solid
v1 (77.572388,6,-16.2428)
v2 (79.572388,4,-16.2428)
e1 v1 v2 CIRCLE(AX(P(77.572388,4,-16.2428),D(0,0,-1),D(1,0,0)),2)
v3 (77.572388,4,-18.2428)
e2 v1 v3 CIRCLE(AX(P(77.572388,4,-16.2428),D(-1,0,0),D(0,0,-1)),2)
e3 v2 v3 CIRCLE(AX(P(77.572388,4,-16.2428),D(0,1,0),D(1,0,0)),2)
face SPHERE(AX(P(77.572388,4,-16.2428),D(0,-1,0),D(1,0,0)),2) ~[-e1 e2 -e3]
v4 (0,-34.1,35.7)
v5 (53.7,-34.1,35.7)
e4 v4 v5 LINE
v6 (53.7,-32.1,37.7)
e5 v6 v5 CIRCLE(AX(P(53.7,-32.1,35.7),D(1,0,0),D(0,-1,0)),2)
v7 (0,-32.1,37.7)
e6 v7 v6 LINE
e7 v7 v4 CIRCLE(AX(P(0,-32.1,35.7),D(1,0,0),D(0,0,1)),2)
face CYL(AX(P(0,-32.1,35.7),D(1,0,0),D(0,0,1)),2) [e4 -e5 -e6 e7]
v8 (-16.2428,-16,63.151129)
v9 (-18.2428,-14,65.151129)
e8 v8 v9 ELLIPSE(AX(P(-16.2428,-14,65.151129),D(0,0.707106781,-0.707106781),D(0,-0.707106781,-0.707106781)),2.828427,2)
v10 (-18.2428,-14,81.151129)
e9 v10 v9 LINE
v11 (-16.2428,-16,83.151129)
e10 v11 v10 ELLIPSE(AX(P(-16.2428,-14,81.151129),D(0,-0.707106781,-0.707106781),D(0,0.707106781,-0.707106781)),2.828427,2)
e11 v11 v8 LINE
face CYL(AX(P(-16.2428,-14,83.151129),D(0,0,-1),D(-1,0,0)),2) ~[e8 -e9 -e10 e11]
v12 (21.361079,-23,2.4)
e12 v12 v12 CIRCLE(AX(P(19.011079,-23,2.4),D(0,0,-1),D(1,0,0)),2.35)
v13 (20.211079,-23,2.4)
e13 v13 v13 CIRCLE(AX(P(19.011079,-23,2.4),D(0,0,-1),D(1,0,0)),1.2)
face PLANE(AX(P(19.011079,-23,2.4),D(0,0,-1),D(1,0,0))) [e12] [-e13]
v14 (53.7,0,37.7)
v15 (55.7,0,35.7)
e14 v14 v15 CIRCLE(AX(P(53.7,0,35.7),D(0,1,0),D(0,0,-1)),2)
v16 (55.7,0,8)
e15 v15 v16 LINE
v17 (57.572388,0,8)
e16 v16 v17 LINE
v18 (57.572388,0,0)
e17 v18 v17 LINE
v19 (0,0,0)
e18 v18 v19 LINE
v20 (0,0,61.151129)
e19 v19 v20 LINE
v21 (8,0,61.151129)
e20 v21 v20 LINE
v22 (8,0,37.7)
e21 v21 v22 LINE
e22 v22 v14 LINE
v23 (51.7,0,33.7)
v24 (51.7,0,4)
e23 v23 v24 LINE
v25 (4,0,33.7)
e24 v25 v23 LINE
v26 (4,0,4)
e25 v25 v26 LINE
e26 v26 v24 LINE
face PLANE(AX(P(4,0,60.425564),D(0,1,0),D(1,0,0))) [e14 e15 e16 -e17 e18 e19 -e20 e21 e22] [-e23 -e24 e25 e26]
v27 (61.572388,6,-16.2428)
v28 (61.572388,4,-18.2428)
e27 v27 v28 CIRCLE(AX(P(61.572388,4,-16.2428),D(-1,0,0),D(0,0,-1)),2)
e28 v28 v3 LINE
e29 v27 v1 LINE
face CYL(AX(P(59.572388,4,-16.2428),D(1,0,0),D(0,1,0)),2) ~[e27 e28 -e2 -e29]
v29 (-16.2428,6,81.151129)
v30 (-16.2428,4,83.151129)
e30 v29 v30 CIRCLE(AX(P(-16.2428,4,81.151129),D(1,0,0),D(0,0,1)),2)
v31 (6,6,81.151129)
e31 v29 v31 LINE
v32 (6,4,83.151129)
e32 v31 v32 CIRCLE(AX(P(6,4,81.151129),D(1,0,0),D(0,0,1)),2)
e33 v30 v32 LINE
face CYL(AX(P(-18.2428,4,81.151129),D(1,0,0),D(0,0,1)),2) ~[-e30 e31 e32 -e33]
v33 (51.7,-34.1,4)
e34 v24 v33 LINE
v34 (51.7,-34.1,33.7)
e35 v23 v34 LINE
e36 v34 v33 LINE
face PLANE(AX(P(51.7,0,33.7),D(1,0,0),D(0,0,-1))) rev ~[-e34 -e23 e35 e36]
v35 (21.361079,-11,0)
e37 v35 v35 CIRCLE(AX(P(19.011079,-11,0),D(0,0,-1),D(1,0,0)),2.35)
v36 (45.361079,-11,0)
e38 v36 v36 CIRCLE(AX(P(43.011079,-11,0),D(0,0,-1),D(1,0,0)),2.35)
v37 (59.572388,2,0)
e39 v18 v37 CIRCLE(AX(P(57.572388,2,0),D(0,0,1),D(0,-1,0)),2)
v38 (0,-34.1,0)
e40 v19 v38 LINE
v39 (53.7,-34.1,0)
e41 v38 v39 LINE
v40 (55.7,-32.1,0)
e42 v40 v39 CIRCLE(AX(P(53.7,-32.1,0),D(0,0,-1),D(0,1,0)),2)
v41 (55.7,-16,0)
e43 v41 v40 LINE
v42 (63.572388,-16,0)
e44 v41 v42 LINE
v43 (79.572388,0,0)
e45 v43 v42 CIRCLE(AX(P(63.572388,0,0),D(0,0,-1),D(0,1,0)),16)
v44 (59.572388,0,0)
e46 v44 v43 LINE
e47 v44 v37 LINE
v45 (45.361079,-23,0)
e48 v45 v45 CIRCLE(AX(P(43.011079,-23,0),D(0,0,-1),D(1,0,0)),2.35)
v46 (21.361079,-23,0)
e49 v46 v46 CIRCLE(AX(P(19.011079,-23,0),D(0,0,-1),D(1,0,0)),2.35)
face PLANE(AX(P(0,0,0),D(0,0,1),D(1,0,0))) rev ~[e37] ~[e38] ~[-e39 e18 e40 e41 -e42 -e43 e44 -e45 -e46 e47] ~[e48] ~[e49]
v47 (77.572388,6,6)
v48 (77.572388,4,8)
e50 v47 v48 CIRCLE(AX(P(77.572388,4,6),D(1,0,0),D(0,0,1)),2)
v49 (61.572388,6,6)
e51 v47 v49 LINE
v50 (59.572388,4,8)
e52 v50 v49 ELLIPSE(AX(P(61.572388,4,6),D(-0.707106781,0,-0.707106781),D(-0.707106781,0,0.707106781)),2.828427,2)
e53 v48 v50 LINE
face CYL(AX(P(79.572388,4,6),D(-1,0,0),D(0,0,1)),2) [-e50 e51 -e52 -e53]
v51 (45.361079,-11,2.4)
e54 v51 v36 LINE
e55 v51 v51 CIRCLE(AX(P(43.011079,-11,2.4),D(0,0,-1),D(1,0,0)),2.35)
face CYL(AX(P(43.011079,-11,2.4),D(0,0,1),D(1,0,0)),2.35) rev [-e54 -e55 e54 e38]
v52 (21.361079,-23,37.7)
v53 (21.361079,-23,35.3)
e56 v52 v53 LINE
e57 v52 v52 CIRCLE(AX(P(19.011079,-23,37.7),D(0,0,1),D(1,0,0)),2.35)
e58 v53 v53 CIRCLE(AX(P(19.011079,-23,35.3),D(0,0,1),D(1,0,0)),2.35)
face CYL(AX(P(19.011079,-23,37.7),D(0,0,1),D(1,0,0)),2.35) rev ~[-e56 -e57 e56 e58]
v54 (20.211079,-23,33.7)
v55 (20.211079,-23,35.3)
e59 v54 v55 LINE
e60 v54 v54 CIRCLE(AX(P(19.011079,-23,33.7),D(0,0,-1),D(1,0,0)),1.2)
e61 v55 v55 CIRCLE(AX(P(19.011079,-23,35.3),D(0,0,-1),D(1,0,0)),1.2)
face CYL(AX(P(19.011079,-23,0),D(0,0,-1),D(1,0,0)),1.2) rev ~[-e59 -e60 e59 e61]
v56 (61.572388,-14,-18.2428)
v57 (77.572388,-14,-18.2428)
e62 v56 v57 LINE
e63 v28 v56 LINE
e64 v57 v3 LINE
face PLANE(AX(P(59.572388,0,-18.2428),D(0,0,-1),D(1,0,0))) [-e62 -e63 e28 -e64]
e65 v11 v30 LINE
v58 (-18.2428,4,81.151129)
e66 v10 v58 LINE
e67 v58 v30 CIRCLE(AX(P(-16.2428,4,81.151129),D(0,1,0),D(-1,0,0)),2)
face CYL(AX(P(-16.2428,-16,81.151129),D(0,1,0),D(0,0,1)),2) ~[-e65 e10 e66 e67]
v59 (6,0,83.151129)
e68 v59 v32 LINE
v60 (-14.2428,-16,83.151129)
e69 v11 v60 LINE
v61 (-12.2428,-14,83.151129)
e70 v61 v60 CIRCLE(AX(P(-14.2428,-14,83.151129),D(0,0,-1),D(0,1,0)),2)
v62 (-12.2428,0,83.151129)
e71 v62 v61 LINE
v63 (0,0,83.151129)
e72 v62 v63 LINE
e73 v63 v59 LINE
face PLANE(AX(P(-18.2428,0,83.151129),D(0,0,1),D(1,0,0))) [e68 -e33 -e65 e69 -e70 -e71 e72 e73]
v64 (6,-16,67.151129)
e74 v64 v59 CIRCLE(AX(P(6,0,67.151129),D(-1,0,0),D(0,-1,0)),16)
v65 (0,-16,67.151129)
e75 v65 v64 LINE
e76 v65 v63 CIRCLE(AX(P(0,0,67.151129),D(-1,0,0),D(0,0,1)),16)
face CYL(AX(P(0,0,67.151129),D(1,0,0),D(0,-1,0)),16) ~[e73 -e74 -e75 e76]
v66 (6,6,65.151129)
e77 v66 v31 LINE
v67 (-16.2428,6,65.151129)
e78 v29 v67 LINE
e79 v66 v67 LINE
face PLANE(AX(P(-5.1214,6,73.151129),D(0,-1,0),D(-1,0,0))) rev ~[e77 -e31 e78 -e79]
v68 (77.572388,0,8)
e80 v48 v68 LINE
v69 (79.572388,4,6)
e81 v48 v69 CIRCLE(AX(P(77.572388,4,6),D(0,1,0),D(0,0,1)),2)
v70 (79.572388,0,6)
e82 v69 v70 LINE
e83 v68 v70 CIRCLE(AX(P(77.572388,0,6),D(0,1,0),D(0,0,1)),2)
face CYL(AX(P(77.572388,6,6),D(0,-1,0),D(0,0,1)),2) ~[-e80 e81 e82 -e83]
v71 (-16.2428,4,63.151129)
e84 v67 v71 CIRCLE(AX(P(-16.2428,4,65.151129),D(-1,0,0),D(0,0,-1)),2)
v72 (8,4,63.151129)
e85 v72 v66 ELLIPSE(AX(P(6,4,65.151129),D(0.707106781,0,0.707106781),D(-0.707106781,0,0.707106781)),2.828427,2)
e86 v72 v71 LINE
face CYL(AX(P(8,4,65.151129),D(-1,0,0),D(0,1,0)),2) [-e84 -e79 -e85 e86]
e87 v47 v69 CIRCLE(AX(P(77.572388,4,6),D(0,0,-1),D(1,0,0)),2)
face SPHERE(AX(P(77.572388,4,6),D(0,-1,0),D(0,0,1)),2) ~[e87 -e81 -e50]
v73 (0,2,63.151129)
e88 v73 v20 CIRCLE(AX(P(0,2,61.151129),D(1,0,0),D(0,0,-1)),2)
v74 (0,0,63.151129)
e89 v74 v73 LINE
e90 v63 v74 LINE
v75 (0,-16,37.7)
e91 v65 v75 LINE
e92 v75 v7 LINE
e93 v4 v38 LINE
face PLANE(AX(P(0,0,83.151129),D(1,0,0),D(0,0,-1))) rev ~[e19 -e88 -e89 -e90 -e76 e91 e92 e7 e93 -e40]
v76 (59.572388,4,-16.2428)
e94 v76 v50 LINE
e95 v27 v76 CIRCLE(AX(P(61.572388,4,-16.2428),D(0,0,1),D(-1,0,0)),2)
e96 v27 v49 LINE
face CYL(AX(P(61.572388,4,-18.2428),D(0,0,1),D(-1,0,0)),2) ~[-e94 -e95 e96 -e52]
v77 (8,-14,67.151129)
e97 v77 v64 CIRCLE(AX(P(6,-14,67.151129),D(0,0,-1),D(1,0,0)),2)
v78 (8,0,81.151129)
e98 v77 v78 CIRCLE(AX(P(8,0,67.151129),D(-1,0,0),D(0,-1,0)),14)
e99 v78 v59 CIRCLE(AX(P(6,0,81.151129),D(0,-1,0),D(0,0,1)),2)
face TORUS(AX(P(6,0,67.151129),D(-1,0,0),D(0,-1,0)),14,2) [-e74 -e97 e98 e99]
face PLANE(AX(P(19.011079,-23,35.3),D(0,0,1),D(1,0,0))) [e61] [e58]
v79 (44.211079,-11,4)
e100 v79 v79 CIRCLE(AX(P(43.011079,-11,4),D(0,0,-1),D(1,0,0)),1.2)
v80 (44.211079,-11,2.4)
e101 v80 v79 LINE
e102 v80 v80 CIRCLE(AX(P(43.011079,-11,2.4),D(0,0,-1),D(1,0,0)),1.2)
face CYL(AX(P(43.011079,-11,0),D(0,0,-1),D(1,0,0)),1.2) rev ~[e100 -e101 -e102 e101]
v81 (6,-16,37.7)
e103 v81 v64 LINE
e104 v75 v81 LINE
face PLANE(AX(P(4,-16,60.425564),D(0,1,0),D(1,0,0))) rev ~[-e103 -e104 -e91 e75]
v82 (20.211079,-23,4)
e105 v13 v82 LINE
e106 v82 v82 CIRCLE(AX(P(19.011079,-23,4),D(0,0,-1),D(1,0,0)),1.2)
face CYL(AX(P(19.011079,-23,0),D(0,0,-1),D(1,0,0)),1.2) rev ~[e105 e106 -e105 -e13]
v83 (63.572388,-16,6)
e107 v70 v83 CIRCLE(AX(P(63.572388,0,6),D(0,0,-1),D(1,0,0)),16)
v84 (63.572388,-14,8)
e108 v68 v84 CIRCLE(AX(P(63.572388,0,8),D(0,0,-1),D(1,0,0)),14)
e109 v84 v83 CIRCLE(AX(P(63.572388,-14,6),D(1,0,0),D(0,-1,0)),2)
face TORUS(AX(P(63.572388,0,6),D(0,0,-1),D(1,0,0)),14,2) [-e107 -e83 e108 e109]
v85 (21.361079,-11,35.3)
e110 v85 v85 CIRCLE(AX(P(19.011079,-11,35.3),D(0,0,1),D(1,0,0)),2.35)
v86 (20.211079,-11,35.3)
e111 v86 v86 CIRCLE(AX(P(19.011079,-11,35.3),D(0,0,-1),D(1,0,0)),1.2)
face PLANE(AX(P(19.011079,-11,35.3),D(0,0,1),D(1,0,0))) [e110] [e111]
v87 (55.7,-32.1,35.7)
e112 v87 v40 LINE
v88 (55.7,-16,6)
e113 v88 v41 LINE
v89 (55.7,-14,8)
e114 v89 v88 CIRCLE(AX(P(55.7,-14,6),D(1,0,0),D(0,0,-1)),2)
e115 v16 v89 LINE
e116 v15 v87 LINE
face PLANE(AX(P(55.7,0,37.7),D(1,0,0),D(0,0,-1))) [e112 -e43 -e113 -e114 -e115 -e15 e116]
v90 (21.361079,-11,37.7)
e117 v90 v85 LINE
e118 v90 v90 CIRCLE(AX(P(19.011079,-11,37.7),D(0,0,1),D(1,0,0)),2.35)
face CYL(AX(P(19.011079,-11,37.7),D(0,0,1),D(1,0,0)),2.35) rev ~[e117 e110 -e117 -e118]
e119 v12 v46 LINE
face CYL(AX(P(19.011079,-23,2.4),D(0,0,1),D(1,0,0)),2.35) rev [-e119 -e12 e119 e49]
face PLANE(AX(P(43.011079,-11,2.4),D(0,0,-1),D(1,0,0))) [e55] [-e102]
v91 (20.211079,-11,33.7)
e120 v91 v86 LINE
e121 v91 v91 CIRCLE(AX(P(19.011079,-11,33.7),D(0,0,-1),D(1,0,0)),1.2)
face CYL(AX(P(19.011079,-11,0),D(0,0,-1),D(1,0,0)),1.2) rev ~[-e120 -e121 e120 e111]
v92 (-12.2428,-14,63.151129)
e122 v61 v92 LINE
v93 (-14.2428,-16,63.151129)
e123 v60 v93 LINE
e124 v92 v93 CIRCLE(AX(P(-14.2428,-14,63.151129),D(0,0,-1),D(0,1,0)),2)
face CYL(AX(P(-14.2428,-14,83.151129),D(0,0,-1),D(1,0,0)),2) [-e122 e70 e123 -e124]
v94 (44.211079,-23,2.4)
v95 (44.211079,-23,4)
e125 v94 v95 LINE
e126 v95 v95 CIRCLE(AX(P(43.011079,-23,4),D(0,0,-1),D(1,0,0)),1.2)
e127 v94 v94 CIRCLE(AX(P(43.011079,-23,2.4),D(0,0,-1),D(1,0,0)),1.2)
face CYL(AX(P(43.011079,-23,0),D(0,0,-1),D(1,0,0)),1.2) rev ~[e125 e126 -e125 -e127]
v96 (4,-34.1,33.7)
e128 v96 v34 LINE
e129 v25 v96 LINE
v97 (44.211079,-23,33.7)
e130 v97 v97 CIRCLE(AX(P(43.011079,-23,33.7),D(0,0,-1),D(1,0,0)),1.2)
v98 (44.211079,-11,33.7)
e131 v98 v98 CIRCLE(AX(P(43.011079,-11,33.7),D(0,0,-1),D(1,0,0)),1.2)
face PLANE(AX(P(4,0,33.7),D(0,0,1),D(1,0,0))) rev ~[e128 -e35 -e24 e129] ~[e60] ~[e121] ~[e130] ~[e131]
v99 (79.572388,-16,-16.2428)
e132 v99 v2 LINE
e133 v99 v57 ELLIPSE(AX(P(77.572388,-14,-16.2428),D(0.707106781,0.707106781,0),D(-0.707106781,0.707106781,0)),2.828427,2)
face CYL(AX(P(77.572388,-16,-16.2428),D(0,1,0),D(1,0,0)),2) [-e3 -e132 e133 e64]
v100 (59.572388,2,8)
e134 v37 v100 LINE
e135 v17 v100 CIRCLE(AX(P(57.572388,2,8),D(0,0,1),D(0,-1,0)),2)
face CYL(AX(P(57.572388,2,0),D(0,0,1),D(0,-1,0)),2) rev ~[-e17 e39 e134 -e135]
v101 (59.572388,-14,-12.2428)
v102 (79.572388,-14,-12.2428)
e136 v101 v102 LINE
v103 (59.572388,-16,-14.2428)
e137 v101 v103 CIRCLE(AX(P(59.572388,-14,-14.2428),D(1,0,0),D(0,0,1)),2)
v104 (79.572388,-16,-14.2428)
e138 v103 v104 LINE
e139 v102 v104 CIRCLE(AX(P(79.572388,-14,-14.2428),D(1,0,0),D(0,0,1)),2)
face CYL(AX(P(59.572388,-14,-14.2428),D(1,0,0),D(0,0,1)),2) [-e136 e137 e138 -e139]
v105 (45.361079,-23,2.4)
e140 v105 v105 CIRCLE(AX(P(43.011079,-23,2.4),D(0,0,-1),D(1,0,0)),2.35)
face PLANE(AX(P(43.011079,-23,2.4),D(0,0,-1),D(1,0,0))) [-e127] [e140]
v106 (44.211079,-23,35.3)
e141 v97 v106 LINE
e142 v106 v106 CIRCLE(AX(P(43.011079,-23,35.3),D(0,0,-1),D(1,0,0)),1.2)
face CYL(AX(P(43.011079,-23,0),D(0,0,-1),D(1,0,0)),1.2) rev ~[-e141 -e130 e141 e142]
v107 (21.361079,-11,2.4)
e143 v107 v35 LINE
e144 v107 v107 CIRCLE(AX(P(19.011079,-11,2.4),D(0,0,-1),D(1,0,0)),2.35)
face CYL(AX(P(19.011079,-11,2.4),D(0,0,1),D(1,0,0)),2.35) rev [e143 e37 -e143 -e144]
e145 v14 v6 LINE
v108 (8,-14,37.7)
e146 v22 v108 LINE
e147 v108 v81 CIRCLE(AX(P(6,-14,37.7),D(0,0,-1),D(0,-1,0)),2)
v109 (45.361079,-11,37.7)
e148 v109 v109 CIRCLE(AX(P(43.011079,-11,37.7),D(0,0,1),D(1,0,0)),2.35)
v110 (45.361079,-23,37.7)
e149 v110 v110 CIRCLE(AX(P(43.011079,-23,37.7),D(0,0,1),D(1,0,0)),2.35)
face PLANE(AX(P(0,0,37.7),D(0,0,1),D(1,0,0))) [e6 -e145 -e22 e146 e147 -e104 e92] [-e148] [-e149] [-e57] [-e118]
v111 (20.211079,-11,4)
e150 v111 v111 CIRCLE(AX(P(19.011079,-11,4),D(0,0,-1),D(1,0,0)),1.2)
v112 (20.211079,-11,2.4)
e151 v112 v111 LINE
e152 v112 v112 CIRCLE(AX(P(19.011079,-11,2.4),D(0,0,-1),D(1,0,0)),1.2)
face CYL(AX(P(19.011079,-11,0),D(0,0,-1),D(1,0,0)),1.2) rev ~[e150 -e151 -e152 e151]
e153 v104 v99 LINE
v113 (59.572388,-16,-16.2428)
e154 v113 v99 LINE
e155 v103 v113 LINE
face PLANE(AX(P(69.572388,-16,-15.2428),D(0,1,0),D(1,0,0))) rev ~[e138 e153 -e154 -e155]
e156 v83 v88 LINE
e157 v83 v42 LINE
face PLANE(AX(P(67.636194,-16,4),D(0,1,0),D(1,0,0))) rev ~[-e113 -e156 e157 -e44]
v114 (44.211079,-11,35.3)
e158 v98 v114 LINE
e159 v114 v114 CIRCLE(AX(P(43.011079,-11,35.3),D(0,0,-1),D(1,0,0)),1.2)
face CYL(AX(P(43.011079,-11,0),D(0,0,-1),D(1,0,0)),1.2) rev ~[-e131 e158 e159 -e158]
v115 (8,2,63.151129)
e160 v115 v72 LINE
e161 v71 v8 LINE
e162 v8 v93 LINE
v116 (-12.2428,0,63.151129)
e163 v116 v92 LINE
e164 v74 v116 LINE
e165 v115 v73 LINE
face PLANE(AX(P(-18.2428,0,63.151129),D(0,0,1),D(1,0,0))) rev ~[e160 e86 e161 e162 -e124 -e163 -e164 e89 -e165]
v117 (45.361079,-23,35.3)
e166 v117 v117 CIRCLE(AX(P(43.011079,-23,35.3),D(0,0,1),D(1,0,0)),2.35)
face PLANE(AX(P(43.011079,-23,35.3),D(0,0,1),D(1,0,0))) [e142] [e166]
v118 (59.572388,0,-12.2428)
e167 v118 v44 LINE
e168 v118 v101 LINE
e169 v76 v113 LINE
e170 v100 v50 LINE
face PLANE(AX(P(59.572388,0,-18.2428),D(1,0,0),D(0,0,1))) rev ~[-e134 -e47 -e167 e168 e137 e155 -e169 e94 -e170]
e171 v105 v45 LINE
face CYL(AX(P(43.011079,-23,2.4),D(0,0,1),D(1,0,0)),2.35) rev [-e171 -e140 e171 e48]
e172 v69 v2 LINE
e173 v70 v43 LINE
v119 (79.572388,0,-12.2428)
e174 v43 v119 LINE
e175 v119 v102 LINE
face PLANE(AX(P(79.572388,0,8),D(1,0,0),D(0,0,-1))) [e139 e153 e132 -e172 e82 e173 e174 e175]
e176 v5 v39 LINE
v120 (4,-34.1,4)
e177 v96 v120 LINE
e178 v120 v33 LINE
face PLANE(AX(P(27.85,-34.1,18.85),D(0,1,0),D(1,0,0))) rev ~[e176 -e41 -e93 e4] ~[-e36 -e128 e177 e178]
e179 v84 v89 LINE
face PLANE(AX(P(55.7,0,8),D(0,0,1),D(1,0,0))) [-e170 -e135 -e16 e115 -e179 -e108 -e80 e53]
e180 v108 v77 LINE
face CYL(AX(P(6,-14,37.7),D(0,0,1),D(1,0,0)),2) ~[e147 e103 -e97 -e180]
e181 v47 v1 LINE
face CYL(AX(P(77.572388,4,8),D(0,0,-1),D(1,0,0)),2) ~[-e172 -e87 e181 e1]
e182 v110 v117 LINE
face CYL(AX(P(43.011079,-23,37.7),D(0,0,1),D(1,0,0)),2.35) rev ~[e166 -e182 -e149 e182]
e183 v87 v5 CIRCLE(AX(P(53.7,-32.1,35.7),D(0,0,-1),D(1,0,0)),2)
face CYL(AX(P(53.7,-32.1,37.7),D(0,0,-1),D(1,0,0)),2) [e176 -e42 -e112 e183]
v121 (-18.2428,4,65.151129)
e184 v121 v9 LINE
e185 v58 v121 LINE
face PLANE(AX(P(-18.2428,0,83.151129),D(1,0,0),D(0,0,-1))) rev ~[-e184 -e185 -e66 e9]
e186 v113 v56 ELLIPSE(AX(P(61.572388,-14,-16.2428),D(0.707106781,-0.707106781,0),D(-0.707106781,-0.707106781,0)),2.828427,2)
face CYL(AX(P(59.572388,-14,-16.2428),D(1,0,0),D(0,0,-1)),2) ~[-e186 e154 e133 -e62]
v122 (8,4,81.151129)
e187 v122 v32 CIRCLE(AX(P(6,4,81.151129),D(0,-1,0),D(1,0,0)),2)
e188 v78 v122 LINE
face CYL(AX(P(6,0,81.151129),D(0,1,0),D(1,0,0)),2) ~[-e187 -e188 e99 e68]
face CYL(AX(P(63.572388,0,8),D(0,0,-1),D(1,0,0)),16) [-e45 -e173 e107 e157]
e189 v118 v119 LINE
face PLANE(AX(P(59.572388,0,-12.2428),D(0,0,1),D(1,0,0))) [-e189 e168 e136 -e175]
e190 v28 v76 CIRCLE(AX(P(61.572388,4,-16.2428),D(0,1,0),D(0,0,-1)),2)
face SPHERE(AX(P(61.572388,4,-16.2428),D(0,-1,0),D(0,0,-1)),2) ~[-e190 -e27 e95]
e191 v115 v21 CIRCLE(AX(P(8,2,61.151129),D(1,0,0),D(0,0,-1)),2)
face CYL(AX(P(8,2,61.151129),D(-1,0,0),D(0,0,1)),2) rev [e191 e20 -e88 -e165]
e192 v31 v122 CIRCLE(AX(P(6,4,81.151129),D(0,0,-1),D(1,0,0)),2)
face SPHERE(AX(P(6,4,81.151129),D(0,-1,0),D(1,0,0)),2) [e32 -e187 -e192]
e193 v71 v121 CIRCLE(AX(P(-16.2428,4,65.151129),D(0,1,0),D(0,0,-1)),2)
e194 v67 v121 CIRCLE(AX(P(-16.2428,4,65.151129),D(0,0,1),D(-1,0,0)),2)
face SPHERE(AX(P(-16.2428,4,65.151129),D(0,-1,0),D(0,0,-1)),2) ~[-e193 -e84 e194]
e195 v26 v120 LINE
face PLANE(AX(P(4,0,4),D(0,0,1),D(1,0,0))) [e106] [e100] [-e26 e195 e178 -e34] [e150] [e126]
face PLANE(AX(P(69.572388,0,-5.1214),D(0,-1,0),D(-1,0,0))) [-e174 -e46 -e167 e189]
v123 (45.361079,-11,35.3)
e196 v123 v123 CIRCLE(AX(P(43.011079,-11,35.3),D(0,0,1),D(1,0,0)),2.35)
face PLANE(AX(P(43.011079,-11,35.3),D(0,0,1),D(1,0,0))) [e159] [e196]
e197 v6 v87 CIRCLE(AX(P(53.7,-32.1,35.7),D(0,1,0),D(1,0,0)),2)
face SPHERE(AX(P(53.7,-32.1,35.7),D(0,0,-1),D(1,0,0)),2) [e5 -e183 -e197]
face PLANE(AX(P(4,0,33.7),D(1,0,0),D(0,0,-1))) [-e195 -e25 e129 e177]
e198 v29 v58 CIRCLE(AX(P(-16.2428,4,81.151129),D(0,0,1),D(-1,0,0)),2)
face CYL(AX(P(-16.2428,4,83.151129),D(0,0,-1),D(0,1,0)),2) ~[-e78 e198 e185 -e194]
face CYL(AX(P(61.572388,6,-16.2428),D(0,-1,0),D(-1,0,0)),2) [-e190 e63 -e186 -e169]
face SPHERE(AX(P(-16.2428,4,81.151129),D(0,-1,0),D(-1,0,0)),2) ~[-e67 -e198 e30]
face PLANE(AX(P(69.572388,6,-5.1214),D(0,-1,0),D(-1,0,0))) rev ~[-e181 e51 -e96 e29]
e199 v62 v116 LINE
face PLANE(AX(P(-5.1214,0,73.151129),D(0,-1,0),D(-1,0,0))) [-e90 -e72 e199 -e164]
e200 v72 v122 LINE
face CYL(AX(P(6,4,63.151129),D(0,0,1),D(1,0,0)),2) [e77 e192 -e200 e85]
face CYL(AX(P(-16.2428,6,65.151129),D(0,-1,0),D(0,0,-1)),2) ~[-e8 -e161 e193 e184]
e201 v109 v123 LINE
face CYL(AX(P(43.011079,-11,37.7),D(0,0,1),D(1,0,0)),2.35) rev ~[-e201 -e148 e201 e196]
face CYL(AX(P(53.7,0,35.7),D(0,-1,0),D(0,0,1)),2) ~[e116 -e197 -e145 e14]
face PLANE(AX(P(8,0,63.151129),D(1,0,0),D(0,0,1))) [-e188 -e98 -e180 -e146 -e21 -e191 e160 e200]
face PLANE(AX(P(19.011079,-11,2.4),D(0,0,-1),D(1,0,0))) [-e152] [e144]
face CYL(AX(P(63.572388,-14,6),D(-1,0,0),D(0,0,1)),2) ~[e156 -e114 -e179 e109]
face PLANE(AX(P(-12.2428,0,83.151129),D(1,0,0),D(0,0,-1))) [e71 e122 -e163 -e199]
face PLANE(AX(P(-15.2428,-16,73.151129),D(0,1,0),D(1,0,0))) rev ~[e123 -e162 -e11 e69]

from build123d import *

# Parameters (mm, degrees)
SKETCH23_W            = 55.7
SKETCH23_H            = 37.7
SKETCH23_W_2          = 47.7
SKETCH23_H_2          = 29.7
BOSS_EXTRUDE11_DEPTH  = 34.1
BOSS_EXTRUDE3_DEPTH   = 6
BOSS_EXTRUDE3_2_DEPTH = 6
SKETCH19_W            = 6
SKETCH19_H            = 20
SKETCH19_W_2          = 20
SKETCH19_H_2          = 6
SKETCH19_W_3          = 8
SKETCH19_H_3          = 45.451128654
SKETCH19_W_4          = 23.872388302
SKETCH19_H_4          = 8
BOSS_EXTRUDE10_DEPTH  = 16
FILLET6_R             = 16
FILLET7_R             = 2
SKETCH11_R            = 1.2
CUT_EXTRUDE1_DEPTH    = 121.03618278
SKETCH21_R            = 2.35
CUT_EXTRUDE2_DEPTH    = 2.4
CUT_EXTRUDE3_START    = -2.4
SKETCH22_R            = 2.35
CUT_EXTRUDE3_DEPTH    = 2.4


with BuildPart() as part:
    # Sketch23 → Boss-Extrude11 (new body)
    with BuildSketch(Plane(origin=(0, 0, 0), x_dir=(1, 0, 0), z_dir=(0, 1, 0))):
        with Locations((27.85, -18.85)):
            Rectangle(SKETCH23_W, SKETCH23_H)
        with Locations((27.85, -18.85)):
            Rectangle(SKETCH23_W_2, SKETCH23_H_2, mode=Mode.SUBTRACT)
    extrude(amount=-BOSS_EXTRUDE11_DEPTH)



with BuildPart() as body_2:
    # Sketch12 → Boss-Extrude3 (new body)
    with BuildSketch(Plane(origin=(0, 0, 0), x_dir=(1, 0, 0), z_dir=(0, 1, 0))):
        Polygon((0, -83.151128654), (-12.2428, -83.151128654), (-18.2428, -83.151128654), (-18.2428, -63.151128654), (-12.2428, -63.151128654), (0, -63.151128654), (8, -63.151128654), (8, -83.151128654), align=None)
    extrude(amount=BOSS_EXTRUDE3_DEPTH)


with BuildPart() as body_3:
    # Sketch12 → Boss-Extrude3 2 (new body)
    with BuildSketch(Plane(origin=(0, 0, 0), x_dir=(1, 0, 0), z_dir=(0, 1, 0))):
        Polygon((59.572388302, -8), (59.572388302, 0), (59.572388302, 12.2428), (59.572388302, 18.2428), (79.572388302, 18.2428), (79.572388302, 12.2428), (79.572388302, 0), (79.572388302, -8), align=None)
    extrude(amount=BOSS_EXTRUDE3_2_DEPTH)


with BuildPart() as part_1:
    add(part.part)

    add(body_2.part)  # Boss-Extrude10 merges body 2

    add(body_3.part)  # Boss-Extrude10 merges body 3
    # Sketch19 → Boss-Extrude10 (add)
    with BuildSketch(Plane(origin=(0, 0, 0), x_dir=(1, 0, 0), z_dir=(0, 1, 0))):
        with Locations((-15.2428, -73.151128654)):
            Rectangle(SKETCH19_W, SKETCH19_H)
        with Locations((69.572388302, 15.2428)):
            Rectangle(SKETCH19_W_2, SKETCH19_H_2)
        with Locations((4, -60.425564327)):
            Rectangle(SKETCH19_W_3, SKETCH19_H_3)
        with Locations((67.636194151, -4)):
            Rectangle(SKETCH19_W_4, SKETCH19_H_4)
    extrude(amount=-BOSS_EXTRUDE10_DEPTH)

    # Fillet6
    fillet6_edges = [part_1.edges().sort_by_distance(p)[0] for p in [
        (79.572388302, -16, 4),
        (4, -16, 83.151128654),
    ]]
    fillet(fillet6_edges, radius=FILLET6_R)

    # Fillet7
    fillet7_edges = [part_1.edges().sort_by_distance(p)[0] for p in [
        (74.886096801, -11.313708499, 8),
        (8, 3, 83.151128654),
        (8, -16, 52.425564327),
        (8, -11.313708499, 78.464837153),
        (55.7, -34.1, 18.85),
        (4, 0, 63.151128654),
        (-18.2428, -5, 63.151128654),
        (-18.2428, -5, 83.151128654),
        (8, 6, 73.151128654),
        (-5.1214, 6, 63.151128654),
        (-18.2428, 6, 73.151128654),
        (-5.1214, 6, 83.151128654),
        (59.636194151, -16, 8),
        (79.572388302, -5, -18.2428),
        (59.572388302, 0, 4),
        (59.572388302, -5, -18.2428),
        (69.572388302, 6, 8),
        (79.572388302, 6, -5.1214),
        (69.572388302, 6, -18.2428),
        (59.572388302, 6, -5.1214),
        (-18.2428, -16, 73.151128654),
        (-12.2428, -16, 73.151128654),
        (55.7, -17.05, 37.7),
        (69.572388302, -16, -18.2428),
        (69.572388302, -16, -12.2428),
        (27.85, -34.1, 37.7),
        (79.572388302, 3, 8),
    ]]
    fillet(fillet7_edges, radius=FILLET7_R)

    # Sketch11 → Cut-Extrude1 (cut, through all)
    with BuildSketch(Plane(origin=(0, 0, 0), x_dir=(-1, 0, 0), z_dir=(0, 0, -1))):
        with Locations(Location((-19.011079079, -11, 0), (0, 0, 180))):
            Circle(SKETCH11_R)
        with Locations(Location((-19.011079079, -23, 0), (0, 0, 180))):
            Circle(SKETCH11_R)
        with Locations(Location((-43.01107908, -11, 0), (0, 0, 180))):
            Circle(SKETCH11_R)
        with Locations(Location((-43.011079079, -23, 0), (0, 0, 180))):
            Circle(SKETCH11_R)
    extrude(amount=-CUT_EXTRUDE1_DEPTH, mode=Mode.SUBTRACT)

    # Sketch21 → Cut-Extrude2 (cut)
    with BuildSketch(Plane.XY.offset(37.7)):
        with Locations((19.011079079, -11)):
            Circle(SKETCH21_R)
        with Locations((43.01107908, -11)):
            Circle(SKETCH21_R)
        with Locations((19.011079079, -23)):
            Circle(SKETCH21_R)
        with Locations((43.011079079, -23)):
            Circle(SKETCH21_R)
    extrude(amount=-CUT_EXTRUDE2_DEPTH, mode=Mode.SUBTRACT)

    # Sketch22 → Cut-Extrude3 (cut)
    with BuildSketch(Plane(origin=(0, 0, 0), x_dir=(-1, 0, 0), z_dir=(0, 0, -1)).offset(CUT_EXTRUDE3_START)):
        with Locations(Location((-43.01107908, -11, 0), (0, 0, 180))):
            Circle(SKETCH22_R)
        with Locations(Location((-43.011079079, -23, 0), (0, 0, 180))):
            Circle(SKETCH22_R)
        with Locations(Location((-19.011079079, -11, 0), (0, 0, 180))):
            Circle(SKETCH22_R)
        with Locations(Location((-19.011079079, -23, 0), (0, 0, 180))):
            Circle(SKETCH22_R)
    extrude(amount=CUT_EXTRUDE3_DEPTH, mode=Mode.SUBTRACT)


solid = part_1.part
